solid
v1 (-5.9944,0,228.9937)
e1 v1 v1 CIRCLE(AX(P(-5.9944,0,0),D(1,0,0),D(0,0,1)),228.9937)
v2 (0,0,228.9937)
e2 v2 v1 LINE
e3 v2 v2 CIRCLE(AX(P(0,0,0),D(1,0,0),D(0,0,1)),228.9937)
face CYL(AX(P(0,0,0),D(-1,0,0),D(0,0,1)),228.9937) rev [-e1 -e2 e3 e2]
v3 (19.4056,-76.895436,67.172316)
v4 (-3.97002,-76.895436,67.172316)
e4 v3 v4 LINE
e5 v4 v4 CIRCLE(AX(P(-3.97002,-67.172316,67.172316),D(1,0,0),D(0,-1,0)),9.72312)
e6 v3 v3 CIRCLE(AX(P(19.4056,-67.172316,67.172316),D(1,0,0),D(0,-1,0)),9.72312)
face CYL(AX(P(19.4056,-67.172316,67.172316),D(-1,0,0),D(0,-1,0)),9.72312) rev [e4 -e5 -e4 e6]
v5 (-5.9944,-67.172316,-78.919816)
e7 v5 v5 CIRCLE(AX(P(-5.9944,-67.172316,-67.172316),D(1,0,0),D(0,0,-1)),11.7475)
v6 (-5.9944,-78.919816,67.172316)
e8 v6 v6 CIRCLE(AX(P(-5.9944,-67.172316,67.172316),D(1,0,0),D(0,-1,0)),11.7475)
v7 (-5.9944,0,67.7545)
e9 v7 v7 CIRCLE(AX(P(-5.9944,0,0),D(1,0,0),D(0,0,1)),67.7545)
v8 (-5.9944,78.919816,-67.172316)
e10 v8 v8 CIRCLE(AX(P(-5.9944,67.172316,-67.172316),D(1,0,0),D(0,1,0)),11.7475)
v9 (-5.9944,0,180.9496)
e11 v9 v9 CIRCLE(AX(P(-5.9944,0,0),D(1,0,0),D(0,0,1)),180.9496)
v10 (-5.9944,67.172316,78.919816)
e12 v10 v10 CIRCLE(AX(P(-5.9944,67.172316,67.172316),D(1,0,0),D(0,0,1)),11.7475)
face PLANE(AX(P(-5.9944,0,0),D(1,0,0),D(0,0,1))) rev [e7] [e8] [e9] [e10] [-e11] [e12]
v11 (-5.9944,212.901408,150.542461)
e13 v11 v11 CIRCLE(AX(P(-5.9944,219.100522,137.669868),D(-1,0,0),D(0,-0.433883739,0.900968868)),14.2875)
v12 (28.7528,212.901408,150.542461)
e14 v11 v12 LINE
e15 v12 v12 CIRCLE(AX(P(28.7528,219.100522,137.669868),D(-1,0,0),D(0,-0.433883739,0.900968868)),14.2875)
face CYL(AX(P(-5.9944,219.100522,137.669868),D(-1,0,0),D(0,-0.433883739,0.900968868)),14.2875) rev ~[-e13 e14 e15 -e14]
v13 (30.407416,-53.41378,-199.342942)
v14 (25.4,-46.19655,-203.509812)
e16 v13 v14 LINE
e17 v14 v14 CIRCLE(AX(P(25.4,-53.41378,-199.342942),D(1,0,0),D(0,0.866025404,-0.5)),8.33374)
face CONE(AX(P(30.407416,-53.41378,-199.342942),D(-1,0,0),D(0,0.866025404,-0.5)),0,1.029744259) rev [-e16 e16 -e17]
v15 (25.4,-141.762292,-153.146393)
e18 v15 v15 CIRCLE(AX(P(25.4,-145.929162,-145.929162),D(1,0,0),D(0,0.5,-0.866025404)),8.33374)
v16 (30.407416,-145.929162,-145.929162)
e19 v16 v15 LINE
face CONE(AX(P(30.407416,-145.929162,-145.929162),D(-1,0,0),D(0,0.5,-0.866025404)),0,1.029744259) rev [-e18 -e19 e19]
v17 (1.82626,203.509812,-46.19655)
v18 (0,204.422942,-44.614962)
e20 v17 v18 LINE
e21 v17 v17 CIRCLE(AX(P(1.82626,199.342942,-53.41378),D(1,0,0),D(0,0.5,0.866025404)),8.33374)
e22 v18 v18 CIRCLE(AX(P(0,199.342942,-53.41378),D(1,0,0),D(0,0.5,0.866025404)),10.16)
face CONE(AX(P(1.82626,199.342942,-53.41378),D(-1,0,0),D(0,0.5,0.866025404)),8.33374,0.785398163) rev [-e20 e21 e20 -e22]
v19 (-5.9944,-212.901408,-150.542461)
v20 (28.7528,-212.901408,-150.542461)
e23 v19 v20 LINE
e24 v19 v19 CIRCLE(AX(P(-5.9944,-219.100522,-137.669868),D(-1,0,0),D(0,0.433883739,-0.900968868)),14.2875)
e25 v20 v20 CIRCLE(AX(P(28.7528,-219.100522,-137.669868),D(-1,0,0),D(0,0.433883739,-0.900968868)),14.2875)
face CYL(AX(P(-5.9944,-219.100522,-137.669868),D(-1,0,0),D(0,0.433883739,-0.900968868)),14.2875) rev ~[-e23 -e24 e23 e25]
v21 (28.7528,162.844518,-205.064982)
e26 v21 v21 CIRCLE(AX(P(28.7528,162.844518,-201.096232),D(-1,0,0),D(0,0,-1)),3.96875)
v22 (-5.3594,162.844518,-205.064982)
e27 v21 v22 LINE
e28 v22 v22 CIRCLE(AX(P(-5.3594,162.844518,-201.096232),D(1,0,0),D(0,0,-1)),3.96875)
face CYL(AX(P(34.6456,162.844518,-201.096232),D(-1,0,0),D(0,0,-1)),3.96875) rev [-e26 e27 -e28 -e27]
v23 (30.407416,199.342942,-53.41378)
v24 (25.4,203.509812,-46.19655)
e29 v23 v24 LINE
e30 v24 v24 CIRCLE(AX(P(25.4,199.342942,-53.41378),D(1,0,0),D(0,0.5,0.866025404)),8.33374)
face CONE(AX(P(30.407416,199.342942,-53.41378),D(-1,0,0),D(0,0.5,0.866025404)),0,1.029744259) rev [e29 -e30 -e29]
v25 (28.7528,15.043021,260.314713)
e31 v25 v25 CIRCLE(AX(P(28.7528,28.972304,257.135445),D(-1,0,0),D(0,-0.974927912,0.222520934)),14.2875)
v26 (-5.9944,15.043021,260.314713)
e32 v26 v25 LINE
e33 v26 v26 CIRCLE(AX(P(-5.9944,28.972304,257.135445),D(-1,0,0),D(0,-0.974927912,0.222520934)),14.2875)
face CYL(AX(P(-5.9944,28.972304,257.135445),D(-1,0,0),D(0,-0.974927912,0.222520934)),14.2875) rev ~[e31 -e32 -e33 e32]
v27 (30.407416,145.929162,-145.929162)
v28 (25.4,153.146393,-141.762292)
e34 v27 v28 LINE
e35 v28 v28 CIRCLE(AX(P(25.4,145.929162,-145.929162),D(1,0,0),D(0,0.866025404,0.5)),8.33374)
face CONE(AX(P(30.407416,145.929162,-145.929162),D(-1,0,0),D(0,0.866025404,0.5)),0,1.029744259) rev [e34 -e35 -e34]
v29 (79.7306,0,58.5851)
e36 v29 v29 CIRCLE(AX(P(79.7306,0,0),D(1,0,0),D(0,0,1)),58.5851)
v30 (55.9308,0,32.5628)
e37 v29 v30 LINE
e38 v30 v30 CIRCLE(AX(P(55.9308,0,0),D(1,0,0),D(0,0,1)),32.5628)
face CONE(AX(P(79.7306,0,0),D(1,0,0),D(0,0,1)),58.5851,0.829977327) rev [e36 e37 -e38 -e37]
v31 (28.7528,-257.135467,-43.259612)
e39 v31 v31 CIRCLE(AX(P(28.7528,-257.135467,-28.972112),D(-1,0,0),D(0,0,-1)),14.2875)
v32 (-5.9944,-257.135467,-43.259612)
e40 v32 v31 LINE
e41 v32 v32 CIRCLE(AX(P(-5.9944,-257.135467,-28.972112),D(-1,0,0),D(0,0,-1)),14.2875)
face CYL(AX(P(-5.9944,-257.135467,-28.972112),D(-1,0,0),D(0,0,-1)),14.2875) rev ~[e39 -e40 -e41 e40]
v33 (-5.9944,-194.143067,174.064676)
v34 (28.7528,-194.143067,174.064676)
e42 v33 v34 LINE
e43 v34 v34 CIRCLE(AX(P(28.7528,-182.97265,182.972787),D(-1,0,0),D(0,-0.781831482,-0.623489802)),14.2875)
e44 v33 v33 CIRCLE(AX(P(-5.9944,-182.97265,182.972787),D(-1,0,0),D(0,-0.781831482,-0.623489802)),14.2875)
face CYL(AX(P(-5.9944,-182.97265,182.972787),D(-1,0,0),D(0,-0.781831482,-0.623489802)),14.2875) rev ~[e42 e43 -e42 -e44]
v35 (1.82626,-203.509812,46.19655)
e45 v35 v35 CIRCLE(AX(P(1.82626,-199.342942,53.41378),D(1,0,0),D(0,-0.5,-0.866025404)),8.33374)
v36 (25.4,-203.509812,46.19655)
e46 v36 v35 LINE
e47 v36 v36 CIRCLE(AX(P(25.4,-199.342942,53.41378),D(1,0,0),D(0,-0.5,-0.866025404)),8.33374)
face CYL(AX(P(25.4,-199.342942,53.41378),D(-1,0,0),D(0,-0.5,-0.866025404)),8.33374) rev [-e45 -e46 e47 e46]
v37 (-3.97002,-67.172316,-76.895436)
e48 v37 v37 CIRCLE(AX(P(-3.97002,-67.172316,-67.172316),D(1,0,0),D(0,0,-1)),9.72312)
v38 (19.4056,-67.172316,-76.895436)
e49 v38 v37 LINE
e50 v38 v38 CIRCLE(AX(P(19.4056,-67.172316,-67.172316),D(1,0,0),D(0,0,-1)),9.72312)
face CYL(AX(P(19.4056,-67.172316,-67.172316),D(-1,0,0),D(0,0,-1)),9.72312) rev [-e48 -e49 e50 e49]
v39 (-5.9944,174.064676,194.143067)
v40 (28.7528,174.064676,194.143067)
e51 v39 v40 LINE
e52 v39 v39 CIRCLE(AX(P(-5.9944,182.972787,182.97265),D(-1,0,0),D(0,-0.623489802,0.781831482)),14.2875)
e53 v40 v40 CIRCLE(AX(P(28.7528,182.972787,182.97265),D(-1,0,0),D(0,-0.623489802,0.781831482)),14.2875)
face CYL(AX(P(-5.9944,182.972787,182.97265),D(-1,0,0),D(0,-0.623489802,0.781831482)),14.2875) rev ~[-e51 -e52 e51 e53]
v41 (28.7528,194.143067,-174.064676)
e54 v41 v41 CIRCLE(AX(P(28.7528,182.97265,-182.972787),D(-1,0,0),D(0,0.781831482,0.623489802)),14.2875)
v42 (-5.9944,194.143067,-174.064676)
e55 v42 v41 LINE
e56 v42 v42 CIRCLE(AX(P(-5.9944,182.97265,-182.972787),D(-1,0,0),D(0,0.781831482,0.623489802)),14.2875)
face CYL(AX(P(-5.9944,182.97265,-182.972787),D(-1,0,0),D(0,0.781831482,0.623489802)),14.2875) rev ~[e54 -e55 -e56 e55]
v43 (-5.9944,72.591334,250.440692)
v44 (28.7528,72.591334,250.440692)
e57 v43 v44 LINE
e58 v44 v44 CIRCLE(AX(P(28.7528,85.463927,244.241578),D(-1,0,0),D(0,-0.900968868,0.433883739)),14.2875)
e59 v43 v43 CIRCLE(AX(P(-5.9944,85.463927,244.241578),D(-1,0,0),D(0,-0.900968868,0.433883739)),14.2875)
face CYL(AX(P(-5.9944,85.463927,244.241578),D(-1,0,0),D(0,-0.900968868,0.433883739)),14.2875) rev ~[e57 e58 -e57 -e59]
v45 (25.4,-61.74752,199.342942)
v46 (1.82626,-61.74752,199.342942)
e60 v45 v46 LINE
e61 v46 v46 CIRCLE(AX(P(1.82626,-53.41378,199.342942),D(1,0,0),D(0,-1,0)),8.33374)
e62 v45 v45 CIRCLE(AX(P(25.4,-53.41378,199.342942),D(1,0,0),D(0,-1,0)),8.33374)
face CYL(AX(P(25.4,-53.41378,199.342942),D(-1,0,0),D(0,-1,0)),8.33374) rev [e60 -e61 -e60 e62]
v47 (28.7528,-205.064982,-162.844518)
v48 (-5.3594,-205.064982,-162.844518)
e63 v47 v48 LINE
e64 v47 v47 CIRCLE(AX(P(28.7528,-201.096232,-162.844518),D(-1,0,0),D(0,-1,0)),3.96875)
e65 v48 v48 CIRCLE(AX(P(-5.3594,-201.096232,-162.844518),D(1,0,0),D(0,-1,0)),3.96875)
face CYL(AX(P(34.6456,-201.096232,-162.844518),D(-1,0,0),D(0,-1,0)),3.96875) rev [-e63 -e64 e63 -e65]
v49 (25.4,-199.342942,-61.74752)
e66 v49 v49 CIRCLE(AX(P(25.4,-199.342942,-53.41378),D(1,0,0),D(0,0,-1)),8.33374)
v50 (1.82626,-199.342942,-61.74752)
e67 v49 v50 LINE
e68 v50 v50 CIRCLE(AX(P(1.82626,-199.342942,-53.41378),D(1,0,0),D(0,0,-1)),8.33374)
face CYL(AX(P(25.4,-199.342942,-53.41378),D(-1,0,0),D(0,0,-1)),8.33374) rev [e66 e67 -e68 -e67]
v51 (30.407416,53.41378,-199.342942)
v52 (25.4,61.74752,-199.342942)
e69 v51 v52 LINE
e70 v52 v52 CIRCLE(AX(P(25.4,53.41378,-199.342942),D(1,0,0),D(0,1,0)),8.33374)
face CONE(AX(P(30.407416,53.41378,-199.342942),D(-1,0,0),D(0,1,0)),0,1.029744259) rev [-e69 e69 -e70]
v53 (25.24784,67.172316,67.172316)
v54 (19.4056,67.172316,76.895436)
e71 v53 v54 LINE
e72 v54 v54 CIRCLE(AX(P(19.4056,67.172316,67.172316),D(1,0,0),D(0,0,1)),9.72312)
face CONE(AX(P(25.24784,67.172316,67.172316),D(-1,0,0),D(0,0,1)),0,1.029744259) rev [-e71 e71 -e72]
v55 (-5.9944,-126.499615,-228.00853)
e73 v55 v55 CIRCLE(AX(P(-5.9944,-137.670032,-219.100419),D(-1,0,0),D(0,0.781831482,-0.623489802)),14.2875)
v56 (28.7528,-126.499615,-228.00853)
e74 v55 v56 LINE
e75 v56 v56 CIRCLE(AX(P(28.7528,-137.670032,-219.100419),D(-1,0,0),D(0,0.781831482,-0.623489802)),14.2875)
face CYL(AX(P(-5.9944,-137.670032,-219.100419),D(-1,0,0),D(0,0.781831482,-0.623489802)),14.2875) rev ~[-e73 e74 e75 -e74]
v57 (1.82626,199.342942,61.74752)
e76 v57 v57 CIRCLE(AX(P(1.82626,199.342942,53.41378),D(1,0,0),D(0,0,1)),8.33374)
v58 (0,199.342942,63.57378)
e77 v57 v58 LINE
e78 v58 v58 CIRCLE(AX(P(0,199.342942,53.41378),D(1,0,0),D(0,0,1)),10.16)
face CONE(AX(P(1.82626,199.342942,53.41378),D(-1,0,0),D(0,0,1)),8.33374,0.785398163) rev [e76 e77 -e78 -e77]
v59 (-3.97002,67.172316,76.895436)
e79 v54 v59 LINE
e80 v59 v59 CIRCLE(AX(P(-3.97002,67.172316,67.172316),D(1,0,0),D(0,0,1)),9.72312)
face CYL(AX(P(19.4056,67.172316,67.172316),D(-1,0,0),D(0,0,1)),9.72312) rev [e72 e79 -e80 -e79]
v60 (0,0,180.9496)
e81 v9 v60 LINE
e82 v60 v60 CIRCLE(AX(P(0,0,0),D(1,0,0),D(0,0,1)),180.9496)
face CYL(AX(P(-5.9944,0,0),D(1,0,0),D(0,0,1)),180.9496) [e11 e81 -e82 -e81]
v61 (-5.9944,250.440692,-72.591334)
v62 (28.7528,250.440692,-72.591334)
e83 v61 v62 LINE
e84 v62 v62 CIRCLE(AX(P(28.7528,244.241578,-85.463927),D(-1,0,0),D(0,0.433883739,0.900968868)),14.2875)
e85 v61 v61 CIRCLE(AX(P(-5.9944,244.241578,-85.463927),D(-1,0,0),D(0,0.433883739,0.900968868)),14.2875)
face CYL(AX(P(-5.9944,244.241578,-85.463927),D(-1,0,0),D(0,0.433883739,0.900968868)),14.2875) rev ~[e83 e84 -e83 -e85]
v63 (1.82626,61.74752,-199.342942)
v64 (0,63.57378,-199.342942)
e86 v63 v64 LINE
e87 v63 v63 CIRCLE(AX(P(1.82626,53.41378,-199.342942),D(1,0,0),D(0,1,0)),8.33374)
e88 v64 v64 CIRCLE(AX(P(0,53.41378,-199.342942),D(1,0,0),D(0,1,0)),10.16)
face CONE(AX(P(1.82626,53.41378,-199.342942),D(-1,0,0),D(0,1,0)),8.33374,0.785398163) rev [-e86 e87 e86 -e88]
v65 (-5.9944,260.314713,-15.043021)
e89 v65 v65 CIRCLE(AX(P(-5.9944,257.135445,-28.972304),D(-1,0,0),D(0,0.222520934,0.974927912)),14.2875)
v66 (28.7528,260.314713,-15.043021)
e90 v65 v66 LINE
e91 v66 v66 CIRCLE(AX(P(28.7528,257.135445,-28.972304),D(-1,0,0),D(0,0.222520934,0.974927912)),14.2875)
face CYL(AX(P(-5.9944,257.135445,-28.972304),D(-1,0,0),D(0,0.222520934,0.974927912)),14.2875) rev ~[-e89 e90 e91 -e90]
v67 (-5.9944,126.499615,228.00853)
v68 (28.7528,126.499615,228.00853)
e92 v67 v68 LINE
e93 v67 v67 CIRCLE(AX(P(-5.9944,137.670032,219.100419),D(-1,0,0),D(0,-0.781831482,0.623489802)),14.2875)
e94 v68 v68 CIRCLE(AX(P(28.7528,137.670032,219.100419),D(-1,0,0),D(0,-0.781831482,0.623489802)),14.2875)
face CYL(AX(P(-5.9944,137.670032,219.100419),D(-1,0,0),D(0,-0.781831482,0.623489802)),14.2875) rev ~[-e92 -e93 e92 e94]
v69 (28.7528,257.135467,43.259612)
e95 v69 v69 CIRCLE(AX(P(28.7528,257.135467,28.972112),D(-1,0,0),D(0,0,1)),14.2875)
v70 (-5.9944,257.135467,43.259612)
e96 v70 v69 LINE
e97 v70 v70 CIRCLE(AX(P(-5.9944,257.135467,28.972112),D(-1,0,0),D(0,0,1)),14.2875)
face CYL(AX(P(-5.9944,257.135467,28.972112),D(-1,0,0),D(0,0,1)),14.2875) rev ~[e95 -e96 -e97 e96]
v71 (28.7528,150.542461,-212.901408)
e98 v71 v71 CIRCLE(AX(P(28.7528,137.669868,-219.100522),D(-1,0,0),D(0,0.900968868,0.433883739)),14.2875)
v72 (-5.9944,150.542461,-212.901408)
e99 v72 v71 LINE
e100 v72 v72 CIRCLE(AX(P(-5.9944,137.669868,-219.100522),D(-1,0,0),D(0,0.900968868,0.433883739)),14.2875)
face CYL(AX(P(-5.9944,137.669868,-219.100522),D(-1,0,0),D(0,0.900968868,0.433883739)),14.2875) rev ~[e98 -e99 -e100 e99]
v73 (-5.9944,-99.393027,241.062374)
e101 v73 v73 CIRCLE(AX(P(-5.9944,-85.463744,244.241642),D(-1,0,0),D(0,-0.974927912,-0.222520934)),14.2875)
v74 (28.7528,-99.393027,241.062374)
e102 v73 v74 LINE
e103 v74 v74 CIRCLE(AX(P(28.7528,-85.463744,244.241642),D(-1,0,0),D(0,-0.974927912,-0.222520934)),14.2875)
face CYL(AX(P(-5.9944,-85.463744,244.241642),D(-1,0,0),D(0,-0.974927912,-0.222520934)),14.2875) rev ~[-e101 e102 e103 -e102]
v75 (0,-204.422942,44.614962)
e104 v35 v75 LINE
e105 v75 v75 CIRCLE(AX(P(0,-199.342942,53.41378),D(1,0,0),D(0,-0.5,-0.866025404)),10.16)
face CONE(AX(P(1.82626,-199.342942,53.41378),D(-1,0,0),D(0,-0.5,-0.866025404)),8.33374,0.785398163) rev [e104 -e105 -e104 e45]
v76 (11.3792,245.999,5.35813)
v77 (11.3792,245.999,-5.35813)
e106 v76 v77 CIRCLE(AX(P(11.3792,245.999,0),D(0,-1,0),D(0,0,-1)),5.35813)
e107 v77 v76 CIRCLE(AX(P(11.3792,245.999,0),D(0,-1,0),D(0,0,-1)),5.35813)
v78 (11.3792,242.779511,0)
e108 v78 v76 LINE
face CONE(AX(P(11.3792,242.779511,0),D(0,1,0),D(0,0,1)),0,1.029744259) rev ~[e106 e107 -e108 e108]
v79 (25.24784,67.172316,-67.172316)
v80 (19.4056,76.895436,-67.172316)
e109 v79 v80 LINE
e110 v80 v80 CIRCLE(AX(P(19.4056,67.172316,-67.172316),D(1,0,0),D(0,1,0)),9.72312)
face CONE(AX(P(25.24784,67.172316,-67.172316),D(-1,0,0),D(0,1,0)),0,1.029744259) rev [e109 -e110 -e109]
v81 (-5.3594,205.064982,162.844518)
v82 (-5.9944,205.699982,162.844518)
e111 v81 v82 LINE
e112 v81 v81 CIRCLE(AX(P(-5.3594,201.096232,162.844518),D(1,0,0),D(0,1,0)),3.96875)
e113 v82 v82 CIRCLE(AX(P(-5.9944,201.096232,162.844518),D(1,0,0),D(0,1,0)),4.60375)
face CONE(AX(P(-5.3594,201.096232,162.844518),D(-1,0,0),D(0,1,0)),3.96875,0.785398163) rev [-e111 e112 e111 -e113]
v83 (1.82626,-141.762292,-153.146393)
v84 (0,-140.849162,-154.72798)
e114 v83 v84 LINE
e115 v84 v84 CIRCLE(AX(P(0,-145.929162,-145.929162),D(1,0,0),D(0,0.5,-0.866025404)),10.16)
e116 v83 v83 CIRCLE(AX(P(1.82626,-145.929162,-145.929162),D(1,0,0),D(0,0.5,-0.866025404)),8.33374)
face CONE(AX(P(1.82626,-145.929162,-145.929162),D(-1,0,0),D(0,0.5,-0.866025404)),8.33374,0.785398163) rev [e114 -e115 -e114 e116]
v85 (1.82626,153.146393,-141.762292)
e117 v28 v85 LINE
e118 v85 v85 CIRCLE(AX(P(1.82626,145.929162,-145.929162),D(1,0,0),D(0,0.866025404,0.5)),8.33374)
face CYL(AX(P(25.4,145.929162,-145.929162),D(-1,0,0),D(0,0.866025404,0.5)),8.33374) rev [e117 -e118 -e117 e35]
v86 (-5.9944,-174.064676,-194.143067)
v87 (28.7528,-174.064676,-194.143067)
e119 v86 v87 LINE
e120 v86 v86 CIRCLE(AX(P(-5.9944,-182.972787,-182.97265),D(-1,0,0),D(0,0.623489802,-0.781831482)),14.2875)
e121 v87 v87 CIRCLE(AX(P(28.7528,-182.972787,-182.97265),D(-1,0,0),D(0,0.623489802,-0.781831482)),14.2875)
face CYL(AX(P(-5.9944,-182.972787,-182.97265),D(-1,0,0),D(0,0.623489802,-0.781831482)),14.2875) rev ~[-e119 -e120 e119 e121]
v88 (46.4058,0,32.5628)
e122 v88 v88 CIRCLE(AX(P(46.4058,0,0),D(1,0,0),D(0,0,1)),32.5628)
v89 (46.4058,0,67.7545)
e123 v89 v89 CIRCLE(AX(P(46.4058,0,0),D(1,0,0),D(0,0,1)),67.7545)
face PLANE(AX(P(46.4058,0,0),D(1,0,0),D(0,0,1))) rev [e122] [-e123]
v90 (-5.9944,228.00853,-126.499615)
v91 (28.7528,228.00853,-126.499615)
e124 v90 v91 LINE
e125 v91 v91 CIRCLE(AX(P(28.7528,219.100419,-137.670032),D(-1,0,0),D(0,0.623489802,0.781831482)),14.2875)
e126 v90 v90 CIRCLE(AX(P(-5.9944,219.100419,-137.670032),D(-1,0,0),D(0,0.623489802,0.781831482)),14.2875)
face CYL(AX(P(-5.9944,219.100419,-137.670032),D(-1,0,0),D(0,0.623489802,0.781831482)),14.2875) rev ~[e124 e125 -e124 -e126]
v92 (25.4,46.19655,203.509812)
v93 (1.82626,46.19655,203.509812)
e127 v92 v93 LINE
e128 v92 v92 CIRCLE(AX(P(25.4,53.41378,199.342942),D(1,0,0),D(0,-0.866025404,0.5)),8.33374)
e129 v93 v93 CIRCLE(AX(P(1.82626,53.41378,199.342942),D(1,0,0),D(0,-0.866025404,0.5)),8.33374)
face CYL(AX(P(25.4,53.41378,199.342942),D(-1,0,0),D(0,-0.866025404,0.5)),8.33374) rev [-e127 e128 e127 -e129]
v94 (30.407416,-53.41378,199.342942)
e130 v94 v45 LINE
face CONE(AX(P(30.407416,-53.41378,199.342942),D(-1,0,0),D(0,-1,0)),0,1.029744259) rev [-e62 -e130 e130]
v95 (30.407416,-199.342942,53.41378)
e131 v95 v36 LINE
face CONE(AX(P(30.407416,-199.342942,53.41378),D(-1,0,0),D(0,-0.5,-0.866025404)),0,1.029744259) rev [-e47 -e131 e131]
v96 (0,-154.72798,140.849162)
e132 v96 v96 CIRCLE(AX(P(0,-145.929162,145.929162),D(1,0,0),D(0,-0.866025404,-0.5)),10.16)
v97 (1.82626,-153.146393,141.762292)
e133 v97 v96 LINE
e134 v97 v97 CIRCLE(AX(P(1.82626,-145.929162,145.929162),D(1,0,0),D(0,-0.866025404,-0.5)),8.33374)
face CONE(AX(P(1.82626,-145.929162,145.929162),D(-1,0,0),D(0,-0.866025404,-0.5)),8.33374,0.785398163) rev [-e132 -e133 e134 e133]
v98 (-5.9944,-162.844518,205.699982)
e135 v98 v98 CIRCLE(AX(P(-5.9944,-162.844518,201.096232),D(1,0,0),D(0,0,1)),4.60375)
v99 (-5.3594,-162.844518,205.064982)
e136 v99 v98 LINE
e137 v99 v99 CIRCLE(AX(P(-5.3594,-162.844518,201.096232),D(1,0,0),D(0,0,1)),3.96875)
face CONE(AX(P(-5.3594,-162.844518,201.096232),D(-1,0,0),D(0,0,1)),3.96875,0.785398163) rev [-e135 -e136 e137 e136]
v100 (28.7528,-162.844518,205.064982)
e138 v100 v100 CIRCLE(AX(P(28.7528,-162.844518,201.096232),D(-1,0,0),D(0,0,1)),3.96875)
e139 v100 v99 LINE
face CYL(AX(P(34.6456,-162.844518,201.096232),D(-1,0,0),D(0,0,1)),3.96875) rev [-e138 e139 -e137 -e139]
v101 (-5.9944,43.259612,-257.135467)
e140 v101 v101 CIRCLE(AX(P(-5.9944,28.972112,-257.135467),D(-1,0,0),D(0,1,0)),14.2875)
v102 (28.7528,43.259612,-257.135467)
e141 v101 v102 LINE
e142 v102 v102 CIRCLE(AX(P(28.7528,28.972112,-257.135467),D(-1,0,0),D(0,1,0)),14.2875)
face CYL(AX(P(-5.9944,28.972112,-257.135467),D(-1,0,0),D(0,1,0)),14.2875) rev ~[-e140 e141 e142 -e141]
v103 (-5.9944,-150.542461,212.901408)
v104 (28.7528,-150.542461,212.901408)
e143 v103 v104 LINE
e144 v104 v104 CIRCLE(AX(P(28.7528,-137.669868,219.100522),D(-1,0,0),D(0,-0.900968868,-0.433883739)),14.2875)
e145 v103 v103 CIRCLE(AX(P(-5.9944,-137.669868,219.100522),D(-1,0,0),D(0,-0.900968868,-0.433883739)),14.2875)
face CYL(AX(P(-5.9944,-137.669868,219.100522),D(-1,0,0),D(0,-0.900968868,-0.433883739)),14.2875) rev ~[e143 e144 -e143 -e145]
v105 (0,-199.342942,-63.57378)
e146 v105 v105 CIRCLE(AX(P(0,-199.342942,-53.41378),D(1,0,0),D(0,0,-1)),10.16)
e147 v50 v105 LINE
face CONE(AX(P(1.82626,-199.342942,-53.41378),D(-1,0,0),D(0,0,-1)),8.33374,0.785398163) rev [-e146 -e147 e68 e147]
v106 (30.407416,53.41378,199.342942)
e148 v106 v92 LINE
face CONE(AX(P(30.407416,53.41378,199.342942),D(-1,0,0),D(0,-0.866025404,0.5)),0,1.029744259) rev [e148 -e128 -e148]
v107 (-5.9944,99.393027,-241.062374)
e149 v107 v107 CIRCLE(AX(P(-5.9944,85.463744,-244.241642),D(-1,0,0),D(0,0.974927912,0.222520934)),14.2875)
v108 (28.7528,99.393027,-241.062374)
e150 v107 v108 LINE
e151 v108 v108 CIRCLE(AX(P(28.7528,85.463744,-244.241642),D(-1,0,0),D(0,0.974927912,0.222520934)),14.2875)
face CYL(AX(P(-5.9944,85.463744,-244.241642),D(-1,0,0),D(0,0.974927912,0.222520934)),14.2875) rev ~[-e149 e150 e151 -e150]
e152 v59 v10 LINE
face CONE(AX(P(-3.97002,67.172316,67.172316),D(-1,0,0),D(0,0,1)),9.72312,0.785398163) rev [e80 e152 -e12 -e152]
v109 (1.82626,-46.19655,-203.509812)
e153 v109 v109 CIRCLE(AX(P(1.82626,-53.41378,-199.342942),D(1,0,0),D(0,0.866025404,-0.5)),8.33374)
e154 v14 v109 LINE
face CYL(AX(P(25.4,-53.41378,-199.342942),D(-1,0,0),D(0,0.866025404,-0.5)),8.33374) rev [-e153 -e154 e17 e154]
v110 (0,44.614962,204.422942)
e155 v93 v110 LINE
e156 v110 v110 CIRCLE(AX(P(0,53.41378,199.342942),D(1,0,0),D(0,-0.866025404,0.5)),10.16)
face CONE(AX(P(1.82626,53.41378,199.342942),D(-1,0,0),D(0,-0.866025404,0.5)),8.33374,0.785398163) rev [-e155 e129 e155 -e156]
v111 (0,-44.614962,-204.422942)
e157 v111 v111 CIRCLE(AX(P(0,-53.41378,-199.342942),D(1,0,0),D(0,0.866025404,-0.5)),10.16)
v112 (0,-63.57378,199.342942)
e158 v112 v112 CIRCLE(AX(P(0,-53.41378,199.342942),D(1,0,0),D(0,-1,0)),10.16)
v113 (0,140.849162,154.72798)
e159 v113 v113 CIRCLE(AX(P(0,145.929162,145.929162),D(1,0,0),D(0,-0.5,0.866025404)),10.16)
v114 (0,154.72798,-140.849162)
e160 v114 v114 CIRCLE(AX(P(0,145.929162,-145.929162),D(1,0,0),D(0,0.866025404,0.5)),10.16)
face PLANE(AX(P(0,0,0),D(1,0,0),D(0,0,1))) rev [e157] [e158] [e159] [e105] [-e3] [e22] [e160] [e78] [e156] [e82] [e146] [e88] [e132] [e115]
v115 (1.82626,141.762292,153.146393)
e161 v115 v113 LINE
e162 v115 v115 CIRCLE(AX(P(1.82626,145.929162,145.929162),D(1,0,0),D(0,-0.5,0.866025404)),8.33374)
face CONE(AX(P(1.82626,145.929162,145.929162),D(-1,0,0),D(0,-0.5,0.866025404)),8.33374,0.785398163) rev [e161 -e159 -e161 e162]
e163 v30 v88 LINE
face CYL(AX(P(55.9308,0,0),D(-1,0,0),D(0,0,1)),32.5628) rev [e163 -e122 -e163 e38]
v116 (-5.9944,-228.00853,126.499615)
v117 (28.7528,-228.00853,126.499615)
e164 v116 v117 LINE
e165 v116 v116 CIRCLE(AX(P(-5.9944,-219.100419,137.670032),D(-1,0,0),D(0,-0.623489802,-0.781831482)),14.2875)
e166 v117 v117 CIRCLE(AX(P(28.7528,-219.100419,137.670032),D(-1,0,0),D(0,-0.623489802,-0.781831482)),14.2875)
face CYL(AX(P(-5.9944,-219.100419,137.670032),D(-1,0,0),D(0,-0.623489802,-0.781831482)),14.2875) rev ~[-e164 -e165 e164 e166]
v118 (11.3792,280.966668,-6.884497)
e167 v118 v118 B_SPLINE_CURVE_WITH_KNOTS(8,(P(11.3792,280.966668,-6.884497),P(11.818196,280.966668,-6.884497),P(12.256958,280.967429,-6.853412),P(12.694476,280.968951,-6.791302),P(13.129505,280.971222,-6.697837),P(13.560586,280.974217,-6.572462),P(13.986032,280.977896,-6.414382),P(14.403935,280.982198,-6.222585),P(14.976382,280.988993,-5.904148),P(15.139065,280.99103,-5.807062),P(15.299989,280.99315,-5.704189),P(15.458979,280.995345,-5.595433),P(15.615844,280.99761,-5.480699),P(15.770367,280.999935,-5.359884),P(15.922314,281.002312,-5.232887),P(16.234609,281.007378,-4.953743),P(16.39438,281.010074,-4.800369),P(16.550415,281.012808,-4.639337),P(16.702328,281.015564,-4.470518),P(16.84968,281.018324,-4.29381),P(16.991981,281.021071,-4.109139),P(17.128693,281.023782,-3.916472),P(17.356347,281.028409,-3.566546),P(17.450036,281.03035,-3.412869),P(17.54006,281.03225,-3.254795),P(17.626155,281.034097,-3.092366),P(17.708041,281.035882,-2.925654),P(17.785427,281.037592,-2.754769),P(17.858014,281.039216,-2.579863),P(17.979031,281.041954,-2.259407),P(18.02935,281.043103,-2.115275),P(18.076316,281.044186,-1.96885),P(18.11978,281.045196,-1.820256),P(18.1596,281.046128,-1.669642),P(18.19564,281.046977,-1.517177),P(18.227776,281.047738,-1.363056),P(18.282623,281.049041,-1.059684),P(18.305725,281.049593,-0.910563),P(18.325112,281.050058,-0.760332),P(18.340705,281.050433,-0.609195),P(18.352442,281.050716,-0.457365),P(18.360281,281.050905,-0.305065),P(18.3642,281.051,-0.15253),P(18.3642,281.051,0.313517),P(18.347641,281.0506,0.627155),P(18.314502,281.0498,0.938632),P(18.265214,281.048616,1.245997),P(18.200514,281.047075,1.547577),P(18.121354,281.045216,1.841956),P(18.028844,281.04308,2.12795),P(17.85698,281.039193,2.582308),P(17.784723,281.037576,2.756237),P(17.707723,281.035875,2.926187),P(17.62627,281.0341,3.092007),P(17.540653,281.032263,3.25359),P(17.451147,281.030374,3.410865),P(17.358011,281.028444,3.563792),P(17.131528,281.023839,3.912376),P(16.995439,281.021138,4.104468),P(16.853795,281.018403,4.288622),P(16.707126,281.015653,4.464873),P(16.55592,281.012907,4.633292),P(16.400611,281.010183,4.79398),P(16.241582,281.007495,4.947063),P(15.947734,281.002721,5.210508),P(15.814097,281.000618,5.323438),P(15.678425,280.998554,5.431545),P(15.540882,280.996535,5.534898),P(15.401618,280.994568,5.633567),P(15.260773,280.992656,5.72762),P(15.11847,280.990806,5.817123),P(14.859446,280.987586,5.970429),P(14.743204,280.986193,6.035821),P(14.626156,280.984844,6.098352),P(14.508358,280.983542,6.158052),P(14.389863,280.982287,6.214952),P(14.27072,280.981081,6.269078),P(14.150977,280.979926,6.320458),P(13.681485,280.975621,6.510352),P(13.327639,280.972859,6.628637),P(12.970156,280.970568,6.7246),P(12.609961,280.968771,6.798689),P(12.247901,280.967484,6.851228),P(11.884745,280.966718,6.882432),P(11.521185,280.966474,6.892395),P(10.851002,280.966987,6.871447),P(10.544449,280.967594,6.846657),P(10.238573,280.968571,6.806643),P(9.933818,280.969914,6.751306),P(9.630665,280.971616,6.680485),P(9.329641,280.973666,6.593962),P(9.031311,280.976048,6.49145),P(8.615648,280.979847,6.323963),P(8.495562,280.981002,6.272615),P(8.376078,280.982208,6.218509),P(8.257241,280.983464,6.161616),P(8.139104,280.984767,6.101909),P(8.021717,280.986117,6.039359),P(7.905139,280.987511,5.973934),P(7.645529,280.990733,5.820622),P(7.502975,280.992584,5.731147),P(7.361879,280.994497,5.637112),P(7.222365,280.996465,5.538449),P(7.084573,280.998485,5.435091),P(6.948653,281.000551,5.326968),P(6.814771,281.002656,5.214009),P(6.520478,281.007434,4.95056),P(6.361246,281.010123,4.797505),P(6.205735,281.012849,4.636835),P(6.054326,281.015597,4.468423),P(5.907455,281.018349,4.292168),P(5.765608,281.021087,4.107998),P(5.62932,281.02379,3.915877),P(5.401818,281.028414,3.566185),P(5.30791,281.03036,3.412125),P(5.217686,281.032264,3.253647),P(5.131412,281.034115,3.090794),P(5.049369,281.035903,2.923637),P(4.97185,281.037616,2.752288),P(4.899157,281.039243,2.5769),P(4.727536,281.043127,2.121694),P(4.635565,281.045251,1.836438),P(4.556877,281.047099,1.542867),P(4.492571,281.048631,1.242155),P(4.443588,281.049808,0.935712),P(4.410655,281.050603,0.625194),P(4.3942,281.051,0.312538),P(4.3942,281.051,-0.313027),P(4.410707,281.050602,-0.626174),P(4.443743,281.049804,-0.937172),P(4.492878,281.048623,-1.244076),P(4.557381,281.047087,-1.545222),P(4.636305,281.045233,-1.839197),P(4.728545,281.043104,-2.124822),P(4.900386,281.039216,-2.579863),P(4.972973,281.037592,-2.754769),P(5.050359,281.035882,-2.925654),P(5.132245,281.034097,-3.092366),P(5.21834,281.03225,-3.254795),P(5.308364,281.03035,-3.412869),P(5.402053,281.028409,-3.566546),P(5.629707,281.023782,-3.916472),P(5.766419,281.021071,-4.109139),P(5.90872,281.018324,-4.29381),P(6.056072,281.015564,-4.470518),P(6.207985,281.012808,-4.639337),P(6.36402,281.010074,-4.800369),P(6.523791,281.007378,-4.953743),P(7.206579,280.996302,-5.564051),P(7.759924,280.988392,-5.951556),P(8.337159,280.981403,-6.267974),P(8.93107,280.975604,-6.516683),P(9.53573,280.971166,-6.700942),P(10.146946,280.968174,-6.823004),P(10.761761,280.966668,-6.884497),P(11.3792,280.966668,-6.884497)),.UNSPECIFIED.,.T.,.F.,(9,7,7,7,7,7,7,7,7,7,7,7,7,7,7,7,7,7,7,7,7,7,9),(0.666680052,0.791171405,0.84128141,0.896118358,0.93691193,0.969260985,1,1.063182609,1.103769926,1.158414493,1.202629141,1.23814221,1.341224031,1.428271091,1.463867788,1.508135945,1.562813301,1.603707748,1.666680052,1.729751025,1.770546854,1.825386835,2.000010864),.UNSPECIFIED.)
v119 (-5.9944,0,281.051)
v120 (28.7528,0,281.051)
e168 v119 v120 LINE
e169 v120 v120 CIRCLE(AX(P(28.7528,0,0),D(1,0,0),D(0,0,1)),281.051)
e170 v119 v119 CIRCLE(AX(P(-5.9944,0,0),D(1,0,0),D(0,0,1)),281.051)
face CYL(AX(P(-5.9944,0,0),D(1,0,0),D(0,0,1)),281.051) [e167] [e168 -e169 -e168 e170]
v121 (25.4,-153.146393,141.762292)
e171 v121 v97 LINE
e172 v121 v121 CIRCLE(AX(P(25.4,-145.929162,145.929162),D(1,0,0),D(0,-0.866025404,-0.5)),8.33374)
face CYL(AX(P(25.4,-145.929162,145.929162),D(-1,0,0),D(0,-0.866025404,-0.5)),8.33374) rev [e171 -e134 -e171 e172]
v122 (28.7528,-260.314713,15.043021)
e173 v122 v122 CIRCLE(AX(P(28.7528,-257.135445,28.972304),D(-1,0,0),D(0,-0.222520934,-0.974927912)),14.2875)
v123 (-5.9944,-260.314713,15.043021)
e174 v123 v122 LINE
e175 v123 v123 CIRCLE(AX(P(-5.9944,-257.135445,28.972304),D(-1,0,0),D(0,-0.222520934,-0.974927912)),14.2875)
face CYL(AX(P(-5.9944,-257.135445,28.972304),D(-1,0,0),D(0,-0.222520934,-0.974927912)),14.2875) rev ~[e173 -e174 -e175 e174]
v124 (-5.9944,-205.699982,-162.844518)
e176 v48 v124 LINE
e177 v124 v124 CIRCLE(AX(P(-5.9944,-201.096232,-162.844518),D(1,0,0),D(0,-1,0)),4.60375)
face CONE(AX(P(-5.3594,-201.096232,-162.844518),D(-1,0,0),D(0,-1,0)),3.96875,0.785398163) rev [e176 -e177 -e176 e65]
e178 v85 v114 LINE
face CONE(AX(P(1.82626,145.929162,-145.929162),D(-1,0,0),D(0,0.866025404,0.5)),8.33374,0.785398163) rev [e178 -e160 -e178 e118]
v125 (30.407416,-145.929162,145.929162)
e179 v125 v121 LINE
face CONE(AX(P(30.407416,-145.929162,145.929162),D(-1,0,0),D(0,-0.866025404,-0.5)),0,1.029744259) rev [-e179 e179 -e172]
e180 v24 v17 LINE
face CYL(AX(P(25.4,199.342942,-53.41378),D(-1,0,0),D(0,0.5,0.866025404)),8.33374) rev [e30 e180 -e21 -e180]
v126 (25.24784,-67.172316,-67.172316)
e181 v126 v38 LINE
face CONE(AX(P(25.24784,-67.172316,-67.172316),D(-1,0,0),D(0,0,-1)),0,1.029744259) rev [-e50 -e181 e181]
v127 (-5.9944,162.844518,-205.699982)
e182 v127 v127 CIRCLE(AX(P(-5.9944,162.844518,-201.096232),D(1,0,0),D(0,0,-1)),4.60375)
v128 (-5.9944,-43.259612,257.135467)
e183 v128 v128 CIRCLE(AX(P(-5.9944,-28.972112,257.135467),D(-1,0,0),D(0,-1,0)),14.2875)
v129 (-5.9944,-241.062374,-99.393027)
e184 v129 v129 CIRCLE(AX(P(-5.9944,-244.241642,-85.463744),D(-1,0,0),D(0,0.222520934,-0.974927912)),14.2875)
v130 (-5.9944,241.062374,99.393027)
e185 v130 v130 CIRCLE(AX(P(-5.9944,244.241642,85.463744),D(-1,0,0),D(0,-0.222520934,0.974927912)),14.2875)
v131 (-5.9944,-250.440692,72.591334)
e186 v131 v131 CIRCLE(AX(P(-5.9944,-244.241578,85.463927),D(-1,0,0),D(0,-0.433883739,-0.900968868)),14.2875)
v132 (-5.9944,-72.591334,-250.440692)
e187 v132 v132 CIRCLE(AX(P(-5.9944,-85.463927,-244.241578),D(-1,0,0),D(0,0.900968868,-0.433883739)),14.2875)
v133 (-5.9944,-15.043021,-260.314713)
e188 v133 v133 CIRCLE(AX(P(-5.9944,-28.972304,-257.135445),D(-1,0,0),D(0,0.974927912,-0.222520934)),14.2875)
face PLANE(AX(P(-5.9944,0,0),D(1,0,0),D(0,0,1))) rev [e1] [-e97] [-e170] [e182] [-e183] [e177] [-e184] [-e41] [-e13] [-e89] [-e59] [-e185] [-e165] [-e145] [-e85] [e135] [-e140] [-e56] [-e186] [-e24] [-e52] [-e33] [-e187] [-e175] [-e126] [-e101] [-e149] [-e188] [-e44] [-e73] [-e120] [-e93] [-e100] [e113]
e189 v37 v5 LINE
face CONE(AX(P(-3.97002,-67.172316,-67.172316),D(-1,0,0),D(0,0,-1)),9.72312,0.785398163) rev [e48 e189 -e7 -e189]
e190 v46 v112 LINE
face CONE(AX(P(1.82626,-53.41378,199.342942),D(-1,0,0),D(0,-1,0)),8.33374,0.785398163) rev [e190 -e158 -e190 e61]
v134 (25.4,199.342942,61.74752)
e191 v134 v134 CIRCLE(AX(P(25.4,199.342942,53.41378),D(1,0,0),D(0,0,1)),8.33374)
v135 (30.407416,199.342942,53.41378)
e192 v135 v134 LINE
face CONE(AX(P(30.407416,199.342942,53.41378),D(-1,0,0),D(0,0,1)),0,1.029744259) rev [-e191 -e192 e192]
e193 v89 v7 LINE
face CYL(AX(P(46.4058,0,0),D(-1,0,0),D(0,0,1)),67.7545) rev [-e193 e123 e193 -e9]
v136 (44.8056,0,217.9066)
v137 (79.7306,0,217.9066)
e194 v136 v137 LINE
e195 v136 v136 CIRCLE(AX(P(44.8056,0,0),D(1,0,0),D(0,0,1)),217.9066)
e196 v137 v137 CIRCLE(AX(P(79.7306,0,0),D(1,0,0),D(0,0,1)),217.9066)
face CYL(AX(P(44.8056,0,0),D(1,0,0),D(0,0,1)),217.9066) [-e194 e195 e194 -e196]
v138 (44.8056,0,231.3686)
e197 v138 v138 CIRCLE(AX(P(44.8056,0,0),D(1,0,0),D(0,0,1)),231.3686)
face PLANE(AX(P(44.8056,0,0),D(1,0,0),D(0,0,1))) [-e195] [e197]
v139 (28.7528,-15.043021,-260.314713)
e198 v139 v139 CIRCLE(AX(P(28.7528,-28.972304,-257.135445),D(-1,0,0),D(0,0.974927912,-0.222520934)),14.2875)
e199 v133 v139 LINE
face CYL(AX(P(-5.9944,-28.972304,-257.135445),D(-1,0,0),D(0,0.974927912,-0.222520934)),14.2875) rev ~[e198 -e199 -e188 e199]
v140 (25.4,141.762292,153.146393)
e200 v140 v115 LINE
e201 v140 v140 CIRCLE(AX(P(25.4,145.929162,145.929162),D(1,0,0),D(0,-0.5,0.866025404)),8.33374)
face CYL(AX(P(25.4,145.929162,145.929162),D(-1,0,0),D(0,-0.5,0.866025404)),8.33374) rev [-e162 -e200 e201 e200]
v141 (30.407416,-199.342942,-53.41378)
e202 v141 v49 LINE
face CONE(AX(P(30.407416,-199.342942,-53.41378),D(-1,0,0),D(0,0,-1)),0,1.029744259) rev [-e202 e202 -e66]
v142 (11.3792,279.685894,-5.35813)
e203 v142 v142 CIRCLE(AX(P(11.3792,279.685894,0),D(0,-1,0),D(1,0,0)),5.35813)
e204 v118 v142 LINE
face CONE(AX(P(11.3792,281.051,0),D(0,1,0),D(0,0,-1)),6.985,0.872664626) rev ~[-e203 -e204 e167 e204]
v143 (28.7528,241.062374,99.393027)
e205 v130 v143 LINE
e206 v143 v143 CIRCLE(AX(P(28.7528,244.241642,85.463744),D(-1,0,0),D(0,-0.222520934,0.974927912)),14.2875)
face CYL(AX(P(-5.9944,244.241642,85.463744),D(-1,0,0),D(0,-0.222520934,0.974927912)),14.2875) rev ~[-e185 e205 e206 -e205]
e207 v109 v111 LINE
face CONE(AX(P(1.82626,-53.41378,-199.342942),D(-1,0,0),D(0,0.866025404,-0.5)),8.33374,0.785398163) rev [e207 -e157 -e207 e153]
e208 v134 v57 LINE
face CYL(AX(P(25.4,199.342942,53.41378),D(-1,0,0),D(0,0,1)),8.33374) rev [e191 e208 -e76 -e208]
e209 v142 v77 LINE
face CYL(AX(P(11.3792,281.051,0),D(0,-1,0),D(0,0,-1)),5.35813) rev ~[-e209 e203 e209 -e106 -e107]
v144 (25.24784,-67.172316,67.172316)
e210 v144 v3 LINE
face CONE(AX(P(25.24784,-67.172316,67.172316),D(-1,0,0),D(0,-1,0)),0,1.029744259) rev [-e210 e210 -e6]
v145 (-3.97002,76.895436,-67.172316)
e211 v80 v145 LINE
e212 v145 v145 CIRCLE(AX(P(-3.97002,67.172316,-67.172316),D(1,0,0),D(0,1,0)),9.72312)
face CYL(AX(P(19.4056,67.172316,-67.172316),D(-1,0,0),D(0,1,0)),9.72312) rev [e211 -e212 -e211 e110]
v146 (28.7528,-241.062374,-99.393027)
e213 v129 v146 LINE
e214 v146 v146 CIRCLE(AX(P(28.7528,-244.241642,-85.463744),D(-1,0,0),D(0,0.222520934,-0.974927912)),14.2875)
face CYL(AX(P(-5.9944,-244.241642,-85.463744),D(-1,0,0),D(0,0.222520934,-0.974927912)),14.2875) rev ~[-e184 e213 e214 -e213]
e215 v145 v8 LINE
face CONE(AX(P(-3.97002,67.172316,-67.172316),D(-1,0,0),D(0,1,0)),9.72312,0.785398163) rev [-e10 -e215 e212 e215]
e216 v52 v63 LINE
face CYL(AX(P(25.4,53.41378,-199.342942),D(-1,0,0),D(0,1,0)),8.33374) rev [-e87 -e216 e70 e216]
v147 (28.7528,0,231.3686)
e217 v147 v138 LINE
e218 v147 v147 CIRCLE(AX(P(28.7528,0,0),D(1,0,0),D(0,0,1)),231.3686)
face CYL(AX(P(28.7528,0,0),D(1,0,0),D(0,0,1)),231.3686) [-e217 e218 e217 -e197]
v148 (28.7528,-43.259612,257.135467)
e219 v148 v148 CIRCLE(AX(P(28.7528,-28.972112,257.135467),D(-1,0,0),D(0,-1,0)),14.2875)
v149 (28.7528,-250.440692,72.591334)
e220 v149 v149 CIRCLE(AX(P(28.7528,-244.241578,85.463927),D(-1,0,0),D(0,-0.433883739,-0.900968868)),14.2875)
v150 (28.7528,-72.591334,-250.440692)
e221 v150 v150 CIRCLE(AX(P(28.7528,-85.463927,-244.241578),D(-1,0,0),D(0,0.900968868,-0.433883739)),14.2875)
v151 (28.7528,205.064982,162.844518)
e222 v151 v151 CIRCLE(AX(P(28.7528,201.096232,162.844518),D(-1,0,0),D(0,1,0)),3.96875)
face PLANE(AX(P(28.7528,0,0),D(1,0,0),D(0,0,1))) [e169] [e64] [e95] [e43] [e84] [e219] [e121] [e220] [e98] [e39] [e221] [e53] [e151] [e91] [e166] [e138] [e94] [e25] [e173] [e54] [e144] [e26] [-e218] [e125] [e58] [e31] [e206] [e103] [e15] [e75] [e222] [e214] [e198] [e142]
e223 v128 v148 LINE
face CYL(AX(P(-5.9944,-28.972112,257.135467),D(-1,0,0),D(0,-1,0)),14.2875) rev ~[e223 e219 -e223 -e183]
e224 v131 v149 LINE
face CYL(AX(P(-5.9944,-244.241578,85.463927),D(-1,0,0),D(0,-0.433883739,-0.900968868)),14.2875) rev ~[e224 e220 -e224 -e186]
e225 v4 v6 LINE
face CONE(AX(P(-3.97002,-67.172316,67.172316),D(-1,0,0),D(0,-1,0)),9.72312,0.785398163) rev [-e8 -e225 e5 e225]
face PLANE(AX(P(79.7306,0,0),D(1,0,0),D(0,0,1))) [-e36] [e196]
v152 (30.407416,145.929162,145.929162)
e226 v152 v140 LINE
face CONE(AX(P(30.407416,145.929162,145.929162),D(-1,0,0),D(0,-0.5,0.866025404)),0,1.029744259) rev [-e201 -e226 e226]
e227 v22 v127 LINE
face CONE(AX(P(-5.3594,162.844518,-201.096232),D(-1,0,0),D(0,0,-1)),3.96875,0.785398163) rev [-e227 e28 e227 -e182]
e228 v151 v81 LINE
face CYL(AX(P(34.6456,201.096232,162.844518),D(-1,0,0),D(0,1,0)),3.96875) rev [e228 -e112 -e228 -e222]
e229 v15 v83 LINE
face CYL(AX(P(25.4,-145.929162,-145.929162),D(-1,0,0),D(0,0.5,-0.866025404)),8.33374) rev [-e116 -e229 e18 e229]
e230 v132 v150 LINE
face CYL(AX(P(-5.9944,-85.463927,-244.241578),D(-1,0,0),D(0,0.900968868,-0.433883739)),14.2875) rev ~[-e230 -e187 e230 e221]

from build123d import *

# Parameters (mm, degrees)
SKETCH4_R                         = 14.2875
CUT_EXTRUDE1_DEPTH                = 407.60558878
CIRPATTERN2_COUNT                 = 28
CIRPATTERN3_COUNT                 = 12
CIRPATTERN4_COUNT                 = 4
CIRPATTERN5_COUNT                 = 4
F_1_2_13_TAPPED_HOLE4_D           = 10.71626
F_1_2_13_TAPPED_HOLE4_DEPTH       = 35.052
F_1_2_13_TAPPED_HOLE4_CSINK_D     = 13.97
F_1_2_13_TAPPED_HOLE4_CSINK_ANGLE = 100
F_1_2_13_TAPPED_HOLE4_TIP         = 3.219489309


with BuildPart() as part:
    # Sketch1 → Revolve1 (revolve)
    with BuildSketch(Plane.XY, mode=Mode.PRIVATE) as revolve1_sk:
        Polygon((-5.9944, 67.7545), (-5.9944, 180.9496), (0, 180.9496), (0, 228.9937), (-5.9944, 228.9937), (-5.9944, 281.051), (28.7528, 281.051), (28.7528, 231.3686), (44.8056, 231.3686), (44.8056, 217.9066), (79.7306, 217.9066), (79.7306, 58.5851), (55.9308, 32.5628), (46.4058, 32.5628), (46.4058, 67.7545), align=None)
    revolve(revolve1_sk.sketch.rotate(Axis((0, 0, 0), (1, 0, 0)), 90), axis=Axis((0, 0, 0), (1, 0, 0)))

    # Sketch4 → Cut-Extrude1 (cut, through all)
    with BuildSketch(Plane.ZY.offset(5.9944)):
        with Locations((28.972111579, 257.135466548)):
            Circle(SKETCH4_R)
    cut_extrude1 = extrude(amount=-CUT_EXTRUDE1_DEPTH, mode=Mode.SUBTRACT)

    # CirPattern2: Cut-Extrude1 ×28 about axis
    cirpattern2_axis = Axis((0, 0, 0), (1, 0, 0))
    for i in range(1, CIRPATTERN2_COUNT):
        add(cut_extrude1.rotate(cirpattern2_axis, i * 360 / CIRPATTERN2_COUNT), mode=Mode.SUBTRACT)

    # Sketch8 → 3/4-10 Tapped Hole1 (revolve, cut)
    with BuildSketch(Plane(origin=(0, 199.3429424, 53.413780433), x_dir=(0, 0, 1), z_dir=(0, 1, 0))):
        Polygon((0, 0), (0, 30.407416175), (8.33374, 25.4), (8.33374, 1.82626), (10.16, 0), align=None)
    f_3_4_10_tapped_hole1 = revolve(axis=Axis((-6.35, 199.3429424, 53.413780433), (1, 0, 0)), mode=Mode.SUBTRACT)

    # CirPattern3: 3/4-10 Tapped Hole1 ×12 about axis
    cirpattern3_axis = Axis((0, 0, 0), (1, 0, 0))
    for i in range(1, CIRPATTERN3_COUNT):
        add(f_3_4_10_tapped_hole1.rotate(cirpattern3_axis, i * 360 / CIRPATTERN3_COUNT), mode=Mode.SUBTRACT)

    # Sketch10 → 7/8-9 Tapped Hole1 (revolve, cut)
    with BuildSketch(Plane(origin=(-5.9944, 67.172315786, 67.172315786), x_dir=(0, 0, 1), z_dir=(0, 1, 0))):
        Polygon((0, 0), (0, 31.242239902), (9.72312, 25.4), (9.72312, 2.02438), (11.7475, 0), align=None)
    f_7_8_9_tapped_hole1 = revolve(axis=Axis((-12.3444, 67.172315786, 67.172315786), (1, 0, 0)), mode=Mode.SUBTRACT)

    # CirPattern4: 7/8-9 Tapped Hole1 ×4 about axis
    cirpattern4_axis = Axis((0, 0, 0), (1, 0, 0))
    for i in range(1, CIRPATTERN4_COUNT):
        add(f_7_8_9_tapped_hole1.rotate(cirpattern4_axis, i * 360 / CIRPATTERN4_COUNT), mode=Mode.SUBTRACT)

    # Sketch12 → Tap Drill for 3/8-16 Tap1 (revolve, cut)
    with BuildSketch(Plane(origin=(-5.9944, -162.844517689, 201.096231852), x_dir=(0, 0, 1), z_dir=(0, 1, 0))):
        Polygon((0, 0), (0, 43.024665582), (3.96875, 40.64), (3.96875, 0.635), (4.60375, 0), align=None)
    tap_drill_for_3_8_16_tap1 = revolve(axis=Axis((-12.3444, -162.844517689, 201.096231852), (1, 0, 0)), mode=Mode.SUBTRACT)

    # CirPattern5: Tap Drill for 3/8-16 Tap1 ×4 about axis
    cirpattern5_axis = Axis((0, 0, 0), (1, 0, 0))
    for i in range(1, CIRPATTERN5_COUNT):
        add(tap_drill_for_3_8_16_tap1.rotate(cirpattern5_axis, i * 360 / CIRPATTERN5_COUNT), mode=Mode.SUBTRACT)

    # 1/2-13 Tapped Hole4
    with Locations(Plane(origin=(11.3792, 281.051, 0), x_dir=(0, 0, 1), z_dir=(0, 1, 0))):
        with Locations((0, 0)):
            CounterSinkHole(F_1_2_13_TAPPED_HOLE4_D / 2, F_1_2_13_TAPPED_HOLE4_CSINK_D / 2, depth=F_1_2_13_TAPPED_HOLE4_DEPTH, counter_sink_angle=F_1_2_13_TAPPED_HOLE4_CSINK_ANGLE)
            with Locations((0, 0, -(F_1_2_13_TAPPED_HOLE4_DEPTH + F_1_2_13_TAPPED_HOLE4_TIP / 2))):  # 118° drill point
                Cone(0, F_1_2_13_TAPPED_HOLE4_D / 2, F_1_2_13_TAPPED_HOLE4_TIP, mode=Mode.SUBTRACT)


solid = part.part
